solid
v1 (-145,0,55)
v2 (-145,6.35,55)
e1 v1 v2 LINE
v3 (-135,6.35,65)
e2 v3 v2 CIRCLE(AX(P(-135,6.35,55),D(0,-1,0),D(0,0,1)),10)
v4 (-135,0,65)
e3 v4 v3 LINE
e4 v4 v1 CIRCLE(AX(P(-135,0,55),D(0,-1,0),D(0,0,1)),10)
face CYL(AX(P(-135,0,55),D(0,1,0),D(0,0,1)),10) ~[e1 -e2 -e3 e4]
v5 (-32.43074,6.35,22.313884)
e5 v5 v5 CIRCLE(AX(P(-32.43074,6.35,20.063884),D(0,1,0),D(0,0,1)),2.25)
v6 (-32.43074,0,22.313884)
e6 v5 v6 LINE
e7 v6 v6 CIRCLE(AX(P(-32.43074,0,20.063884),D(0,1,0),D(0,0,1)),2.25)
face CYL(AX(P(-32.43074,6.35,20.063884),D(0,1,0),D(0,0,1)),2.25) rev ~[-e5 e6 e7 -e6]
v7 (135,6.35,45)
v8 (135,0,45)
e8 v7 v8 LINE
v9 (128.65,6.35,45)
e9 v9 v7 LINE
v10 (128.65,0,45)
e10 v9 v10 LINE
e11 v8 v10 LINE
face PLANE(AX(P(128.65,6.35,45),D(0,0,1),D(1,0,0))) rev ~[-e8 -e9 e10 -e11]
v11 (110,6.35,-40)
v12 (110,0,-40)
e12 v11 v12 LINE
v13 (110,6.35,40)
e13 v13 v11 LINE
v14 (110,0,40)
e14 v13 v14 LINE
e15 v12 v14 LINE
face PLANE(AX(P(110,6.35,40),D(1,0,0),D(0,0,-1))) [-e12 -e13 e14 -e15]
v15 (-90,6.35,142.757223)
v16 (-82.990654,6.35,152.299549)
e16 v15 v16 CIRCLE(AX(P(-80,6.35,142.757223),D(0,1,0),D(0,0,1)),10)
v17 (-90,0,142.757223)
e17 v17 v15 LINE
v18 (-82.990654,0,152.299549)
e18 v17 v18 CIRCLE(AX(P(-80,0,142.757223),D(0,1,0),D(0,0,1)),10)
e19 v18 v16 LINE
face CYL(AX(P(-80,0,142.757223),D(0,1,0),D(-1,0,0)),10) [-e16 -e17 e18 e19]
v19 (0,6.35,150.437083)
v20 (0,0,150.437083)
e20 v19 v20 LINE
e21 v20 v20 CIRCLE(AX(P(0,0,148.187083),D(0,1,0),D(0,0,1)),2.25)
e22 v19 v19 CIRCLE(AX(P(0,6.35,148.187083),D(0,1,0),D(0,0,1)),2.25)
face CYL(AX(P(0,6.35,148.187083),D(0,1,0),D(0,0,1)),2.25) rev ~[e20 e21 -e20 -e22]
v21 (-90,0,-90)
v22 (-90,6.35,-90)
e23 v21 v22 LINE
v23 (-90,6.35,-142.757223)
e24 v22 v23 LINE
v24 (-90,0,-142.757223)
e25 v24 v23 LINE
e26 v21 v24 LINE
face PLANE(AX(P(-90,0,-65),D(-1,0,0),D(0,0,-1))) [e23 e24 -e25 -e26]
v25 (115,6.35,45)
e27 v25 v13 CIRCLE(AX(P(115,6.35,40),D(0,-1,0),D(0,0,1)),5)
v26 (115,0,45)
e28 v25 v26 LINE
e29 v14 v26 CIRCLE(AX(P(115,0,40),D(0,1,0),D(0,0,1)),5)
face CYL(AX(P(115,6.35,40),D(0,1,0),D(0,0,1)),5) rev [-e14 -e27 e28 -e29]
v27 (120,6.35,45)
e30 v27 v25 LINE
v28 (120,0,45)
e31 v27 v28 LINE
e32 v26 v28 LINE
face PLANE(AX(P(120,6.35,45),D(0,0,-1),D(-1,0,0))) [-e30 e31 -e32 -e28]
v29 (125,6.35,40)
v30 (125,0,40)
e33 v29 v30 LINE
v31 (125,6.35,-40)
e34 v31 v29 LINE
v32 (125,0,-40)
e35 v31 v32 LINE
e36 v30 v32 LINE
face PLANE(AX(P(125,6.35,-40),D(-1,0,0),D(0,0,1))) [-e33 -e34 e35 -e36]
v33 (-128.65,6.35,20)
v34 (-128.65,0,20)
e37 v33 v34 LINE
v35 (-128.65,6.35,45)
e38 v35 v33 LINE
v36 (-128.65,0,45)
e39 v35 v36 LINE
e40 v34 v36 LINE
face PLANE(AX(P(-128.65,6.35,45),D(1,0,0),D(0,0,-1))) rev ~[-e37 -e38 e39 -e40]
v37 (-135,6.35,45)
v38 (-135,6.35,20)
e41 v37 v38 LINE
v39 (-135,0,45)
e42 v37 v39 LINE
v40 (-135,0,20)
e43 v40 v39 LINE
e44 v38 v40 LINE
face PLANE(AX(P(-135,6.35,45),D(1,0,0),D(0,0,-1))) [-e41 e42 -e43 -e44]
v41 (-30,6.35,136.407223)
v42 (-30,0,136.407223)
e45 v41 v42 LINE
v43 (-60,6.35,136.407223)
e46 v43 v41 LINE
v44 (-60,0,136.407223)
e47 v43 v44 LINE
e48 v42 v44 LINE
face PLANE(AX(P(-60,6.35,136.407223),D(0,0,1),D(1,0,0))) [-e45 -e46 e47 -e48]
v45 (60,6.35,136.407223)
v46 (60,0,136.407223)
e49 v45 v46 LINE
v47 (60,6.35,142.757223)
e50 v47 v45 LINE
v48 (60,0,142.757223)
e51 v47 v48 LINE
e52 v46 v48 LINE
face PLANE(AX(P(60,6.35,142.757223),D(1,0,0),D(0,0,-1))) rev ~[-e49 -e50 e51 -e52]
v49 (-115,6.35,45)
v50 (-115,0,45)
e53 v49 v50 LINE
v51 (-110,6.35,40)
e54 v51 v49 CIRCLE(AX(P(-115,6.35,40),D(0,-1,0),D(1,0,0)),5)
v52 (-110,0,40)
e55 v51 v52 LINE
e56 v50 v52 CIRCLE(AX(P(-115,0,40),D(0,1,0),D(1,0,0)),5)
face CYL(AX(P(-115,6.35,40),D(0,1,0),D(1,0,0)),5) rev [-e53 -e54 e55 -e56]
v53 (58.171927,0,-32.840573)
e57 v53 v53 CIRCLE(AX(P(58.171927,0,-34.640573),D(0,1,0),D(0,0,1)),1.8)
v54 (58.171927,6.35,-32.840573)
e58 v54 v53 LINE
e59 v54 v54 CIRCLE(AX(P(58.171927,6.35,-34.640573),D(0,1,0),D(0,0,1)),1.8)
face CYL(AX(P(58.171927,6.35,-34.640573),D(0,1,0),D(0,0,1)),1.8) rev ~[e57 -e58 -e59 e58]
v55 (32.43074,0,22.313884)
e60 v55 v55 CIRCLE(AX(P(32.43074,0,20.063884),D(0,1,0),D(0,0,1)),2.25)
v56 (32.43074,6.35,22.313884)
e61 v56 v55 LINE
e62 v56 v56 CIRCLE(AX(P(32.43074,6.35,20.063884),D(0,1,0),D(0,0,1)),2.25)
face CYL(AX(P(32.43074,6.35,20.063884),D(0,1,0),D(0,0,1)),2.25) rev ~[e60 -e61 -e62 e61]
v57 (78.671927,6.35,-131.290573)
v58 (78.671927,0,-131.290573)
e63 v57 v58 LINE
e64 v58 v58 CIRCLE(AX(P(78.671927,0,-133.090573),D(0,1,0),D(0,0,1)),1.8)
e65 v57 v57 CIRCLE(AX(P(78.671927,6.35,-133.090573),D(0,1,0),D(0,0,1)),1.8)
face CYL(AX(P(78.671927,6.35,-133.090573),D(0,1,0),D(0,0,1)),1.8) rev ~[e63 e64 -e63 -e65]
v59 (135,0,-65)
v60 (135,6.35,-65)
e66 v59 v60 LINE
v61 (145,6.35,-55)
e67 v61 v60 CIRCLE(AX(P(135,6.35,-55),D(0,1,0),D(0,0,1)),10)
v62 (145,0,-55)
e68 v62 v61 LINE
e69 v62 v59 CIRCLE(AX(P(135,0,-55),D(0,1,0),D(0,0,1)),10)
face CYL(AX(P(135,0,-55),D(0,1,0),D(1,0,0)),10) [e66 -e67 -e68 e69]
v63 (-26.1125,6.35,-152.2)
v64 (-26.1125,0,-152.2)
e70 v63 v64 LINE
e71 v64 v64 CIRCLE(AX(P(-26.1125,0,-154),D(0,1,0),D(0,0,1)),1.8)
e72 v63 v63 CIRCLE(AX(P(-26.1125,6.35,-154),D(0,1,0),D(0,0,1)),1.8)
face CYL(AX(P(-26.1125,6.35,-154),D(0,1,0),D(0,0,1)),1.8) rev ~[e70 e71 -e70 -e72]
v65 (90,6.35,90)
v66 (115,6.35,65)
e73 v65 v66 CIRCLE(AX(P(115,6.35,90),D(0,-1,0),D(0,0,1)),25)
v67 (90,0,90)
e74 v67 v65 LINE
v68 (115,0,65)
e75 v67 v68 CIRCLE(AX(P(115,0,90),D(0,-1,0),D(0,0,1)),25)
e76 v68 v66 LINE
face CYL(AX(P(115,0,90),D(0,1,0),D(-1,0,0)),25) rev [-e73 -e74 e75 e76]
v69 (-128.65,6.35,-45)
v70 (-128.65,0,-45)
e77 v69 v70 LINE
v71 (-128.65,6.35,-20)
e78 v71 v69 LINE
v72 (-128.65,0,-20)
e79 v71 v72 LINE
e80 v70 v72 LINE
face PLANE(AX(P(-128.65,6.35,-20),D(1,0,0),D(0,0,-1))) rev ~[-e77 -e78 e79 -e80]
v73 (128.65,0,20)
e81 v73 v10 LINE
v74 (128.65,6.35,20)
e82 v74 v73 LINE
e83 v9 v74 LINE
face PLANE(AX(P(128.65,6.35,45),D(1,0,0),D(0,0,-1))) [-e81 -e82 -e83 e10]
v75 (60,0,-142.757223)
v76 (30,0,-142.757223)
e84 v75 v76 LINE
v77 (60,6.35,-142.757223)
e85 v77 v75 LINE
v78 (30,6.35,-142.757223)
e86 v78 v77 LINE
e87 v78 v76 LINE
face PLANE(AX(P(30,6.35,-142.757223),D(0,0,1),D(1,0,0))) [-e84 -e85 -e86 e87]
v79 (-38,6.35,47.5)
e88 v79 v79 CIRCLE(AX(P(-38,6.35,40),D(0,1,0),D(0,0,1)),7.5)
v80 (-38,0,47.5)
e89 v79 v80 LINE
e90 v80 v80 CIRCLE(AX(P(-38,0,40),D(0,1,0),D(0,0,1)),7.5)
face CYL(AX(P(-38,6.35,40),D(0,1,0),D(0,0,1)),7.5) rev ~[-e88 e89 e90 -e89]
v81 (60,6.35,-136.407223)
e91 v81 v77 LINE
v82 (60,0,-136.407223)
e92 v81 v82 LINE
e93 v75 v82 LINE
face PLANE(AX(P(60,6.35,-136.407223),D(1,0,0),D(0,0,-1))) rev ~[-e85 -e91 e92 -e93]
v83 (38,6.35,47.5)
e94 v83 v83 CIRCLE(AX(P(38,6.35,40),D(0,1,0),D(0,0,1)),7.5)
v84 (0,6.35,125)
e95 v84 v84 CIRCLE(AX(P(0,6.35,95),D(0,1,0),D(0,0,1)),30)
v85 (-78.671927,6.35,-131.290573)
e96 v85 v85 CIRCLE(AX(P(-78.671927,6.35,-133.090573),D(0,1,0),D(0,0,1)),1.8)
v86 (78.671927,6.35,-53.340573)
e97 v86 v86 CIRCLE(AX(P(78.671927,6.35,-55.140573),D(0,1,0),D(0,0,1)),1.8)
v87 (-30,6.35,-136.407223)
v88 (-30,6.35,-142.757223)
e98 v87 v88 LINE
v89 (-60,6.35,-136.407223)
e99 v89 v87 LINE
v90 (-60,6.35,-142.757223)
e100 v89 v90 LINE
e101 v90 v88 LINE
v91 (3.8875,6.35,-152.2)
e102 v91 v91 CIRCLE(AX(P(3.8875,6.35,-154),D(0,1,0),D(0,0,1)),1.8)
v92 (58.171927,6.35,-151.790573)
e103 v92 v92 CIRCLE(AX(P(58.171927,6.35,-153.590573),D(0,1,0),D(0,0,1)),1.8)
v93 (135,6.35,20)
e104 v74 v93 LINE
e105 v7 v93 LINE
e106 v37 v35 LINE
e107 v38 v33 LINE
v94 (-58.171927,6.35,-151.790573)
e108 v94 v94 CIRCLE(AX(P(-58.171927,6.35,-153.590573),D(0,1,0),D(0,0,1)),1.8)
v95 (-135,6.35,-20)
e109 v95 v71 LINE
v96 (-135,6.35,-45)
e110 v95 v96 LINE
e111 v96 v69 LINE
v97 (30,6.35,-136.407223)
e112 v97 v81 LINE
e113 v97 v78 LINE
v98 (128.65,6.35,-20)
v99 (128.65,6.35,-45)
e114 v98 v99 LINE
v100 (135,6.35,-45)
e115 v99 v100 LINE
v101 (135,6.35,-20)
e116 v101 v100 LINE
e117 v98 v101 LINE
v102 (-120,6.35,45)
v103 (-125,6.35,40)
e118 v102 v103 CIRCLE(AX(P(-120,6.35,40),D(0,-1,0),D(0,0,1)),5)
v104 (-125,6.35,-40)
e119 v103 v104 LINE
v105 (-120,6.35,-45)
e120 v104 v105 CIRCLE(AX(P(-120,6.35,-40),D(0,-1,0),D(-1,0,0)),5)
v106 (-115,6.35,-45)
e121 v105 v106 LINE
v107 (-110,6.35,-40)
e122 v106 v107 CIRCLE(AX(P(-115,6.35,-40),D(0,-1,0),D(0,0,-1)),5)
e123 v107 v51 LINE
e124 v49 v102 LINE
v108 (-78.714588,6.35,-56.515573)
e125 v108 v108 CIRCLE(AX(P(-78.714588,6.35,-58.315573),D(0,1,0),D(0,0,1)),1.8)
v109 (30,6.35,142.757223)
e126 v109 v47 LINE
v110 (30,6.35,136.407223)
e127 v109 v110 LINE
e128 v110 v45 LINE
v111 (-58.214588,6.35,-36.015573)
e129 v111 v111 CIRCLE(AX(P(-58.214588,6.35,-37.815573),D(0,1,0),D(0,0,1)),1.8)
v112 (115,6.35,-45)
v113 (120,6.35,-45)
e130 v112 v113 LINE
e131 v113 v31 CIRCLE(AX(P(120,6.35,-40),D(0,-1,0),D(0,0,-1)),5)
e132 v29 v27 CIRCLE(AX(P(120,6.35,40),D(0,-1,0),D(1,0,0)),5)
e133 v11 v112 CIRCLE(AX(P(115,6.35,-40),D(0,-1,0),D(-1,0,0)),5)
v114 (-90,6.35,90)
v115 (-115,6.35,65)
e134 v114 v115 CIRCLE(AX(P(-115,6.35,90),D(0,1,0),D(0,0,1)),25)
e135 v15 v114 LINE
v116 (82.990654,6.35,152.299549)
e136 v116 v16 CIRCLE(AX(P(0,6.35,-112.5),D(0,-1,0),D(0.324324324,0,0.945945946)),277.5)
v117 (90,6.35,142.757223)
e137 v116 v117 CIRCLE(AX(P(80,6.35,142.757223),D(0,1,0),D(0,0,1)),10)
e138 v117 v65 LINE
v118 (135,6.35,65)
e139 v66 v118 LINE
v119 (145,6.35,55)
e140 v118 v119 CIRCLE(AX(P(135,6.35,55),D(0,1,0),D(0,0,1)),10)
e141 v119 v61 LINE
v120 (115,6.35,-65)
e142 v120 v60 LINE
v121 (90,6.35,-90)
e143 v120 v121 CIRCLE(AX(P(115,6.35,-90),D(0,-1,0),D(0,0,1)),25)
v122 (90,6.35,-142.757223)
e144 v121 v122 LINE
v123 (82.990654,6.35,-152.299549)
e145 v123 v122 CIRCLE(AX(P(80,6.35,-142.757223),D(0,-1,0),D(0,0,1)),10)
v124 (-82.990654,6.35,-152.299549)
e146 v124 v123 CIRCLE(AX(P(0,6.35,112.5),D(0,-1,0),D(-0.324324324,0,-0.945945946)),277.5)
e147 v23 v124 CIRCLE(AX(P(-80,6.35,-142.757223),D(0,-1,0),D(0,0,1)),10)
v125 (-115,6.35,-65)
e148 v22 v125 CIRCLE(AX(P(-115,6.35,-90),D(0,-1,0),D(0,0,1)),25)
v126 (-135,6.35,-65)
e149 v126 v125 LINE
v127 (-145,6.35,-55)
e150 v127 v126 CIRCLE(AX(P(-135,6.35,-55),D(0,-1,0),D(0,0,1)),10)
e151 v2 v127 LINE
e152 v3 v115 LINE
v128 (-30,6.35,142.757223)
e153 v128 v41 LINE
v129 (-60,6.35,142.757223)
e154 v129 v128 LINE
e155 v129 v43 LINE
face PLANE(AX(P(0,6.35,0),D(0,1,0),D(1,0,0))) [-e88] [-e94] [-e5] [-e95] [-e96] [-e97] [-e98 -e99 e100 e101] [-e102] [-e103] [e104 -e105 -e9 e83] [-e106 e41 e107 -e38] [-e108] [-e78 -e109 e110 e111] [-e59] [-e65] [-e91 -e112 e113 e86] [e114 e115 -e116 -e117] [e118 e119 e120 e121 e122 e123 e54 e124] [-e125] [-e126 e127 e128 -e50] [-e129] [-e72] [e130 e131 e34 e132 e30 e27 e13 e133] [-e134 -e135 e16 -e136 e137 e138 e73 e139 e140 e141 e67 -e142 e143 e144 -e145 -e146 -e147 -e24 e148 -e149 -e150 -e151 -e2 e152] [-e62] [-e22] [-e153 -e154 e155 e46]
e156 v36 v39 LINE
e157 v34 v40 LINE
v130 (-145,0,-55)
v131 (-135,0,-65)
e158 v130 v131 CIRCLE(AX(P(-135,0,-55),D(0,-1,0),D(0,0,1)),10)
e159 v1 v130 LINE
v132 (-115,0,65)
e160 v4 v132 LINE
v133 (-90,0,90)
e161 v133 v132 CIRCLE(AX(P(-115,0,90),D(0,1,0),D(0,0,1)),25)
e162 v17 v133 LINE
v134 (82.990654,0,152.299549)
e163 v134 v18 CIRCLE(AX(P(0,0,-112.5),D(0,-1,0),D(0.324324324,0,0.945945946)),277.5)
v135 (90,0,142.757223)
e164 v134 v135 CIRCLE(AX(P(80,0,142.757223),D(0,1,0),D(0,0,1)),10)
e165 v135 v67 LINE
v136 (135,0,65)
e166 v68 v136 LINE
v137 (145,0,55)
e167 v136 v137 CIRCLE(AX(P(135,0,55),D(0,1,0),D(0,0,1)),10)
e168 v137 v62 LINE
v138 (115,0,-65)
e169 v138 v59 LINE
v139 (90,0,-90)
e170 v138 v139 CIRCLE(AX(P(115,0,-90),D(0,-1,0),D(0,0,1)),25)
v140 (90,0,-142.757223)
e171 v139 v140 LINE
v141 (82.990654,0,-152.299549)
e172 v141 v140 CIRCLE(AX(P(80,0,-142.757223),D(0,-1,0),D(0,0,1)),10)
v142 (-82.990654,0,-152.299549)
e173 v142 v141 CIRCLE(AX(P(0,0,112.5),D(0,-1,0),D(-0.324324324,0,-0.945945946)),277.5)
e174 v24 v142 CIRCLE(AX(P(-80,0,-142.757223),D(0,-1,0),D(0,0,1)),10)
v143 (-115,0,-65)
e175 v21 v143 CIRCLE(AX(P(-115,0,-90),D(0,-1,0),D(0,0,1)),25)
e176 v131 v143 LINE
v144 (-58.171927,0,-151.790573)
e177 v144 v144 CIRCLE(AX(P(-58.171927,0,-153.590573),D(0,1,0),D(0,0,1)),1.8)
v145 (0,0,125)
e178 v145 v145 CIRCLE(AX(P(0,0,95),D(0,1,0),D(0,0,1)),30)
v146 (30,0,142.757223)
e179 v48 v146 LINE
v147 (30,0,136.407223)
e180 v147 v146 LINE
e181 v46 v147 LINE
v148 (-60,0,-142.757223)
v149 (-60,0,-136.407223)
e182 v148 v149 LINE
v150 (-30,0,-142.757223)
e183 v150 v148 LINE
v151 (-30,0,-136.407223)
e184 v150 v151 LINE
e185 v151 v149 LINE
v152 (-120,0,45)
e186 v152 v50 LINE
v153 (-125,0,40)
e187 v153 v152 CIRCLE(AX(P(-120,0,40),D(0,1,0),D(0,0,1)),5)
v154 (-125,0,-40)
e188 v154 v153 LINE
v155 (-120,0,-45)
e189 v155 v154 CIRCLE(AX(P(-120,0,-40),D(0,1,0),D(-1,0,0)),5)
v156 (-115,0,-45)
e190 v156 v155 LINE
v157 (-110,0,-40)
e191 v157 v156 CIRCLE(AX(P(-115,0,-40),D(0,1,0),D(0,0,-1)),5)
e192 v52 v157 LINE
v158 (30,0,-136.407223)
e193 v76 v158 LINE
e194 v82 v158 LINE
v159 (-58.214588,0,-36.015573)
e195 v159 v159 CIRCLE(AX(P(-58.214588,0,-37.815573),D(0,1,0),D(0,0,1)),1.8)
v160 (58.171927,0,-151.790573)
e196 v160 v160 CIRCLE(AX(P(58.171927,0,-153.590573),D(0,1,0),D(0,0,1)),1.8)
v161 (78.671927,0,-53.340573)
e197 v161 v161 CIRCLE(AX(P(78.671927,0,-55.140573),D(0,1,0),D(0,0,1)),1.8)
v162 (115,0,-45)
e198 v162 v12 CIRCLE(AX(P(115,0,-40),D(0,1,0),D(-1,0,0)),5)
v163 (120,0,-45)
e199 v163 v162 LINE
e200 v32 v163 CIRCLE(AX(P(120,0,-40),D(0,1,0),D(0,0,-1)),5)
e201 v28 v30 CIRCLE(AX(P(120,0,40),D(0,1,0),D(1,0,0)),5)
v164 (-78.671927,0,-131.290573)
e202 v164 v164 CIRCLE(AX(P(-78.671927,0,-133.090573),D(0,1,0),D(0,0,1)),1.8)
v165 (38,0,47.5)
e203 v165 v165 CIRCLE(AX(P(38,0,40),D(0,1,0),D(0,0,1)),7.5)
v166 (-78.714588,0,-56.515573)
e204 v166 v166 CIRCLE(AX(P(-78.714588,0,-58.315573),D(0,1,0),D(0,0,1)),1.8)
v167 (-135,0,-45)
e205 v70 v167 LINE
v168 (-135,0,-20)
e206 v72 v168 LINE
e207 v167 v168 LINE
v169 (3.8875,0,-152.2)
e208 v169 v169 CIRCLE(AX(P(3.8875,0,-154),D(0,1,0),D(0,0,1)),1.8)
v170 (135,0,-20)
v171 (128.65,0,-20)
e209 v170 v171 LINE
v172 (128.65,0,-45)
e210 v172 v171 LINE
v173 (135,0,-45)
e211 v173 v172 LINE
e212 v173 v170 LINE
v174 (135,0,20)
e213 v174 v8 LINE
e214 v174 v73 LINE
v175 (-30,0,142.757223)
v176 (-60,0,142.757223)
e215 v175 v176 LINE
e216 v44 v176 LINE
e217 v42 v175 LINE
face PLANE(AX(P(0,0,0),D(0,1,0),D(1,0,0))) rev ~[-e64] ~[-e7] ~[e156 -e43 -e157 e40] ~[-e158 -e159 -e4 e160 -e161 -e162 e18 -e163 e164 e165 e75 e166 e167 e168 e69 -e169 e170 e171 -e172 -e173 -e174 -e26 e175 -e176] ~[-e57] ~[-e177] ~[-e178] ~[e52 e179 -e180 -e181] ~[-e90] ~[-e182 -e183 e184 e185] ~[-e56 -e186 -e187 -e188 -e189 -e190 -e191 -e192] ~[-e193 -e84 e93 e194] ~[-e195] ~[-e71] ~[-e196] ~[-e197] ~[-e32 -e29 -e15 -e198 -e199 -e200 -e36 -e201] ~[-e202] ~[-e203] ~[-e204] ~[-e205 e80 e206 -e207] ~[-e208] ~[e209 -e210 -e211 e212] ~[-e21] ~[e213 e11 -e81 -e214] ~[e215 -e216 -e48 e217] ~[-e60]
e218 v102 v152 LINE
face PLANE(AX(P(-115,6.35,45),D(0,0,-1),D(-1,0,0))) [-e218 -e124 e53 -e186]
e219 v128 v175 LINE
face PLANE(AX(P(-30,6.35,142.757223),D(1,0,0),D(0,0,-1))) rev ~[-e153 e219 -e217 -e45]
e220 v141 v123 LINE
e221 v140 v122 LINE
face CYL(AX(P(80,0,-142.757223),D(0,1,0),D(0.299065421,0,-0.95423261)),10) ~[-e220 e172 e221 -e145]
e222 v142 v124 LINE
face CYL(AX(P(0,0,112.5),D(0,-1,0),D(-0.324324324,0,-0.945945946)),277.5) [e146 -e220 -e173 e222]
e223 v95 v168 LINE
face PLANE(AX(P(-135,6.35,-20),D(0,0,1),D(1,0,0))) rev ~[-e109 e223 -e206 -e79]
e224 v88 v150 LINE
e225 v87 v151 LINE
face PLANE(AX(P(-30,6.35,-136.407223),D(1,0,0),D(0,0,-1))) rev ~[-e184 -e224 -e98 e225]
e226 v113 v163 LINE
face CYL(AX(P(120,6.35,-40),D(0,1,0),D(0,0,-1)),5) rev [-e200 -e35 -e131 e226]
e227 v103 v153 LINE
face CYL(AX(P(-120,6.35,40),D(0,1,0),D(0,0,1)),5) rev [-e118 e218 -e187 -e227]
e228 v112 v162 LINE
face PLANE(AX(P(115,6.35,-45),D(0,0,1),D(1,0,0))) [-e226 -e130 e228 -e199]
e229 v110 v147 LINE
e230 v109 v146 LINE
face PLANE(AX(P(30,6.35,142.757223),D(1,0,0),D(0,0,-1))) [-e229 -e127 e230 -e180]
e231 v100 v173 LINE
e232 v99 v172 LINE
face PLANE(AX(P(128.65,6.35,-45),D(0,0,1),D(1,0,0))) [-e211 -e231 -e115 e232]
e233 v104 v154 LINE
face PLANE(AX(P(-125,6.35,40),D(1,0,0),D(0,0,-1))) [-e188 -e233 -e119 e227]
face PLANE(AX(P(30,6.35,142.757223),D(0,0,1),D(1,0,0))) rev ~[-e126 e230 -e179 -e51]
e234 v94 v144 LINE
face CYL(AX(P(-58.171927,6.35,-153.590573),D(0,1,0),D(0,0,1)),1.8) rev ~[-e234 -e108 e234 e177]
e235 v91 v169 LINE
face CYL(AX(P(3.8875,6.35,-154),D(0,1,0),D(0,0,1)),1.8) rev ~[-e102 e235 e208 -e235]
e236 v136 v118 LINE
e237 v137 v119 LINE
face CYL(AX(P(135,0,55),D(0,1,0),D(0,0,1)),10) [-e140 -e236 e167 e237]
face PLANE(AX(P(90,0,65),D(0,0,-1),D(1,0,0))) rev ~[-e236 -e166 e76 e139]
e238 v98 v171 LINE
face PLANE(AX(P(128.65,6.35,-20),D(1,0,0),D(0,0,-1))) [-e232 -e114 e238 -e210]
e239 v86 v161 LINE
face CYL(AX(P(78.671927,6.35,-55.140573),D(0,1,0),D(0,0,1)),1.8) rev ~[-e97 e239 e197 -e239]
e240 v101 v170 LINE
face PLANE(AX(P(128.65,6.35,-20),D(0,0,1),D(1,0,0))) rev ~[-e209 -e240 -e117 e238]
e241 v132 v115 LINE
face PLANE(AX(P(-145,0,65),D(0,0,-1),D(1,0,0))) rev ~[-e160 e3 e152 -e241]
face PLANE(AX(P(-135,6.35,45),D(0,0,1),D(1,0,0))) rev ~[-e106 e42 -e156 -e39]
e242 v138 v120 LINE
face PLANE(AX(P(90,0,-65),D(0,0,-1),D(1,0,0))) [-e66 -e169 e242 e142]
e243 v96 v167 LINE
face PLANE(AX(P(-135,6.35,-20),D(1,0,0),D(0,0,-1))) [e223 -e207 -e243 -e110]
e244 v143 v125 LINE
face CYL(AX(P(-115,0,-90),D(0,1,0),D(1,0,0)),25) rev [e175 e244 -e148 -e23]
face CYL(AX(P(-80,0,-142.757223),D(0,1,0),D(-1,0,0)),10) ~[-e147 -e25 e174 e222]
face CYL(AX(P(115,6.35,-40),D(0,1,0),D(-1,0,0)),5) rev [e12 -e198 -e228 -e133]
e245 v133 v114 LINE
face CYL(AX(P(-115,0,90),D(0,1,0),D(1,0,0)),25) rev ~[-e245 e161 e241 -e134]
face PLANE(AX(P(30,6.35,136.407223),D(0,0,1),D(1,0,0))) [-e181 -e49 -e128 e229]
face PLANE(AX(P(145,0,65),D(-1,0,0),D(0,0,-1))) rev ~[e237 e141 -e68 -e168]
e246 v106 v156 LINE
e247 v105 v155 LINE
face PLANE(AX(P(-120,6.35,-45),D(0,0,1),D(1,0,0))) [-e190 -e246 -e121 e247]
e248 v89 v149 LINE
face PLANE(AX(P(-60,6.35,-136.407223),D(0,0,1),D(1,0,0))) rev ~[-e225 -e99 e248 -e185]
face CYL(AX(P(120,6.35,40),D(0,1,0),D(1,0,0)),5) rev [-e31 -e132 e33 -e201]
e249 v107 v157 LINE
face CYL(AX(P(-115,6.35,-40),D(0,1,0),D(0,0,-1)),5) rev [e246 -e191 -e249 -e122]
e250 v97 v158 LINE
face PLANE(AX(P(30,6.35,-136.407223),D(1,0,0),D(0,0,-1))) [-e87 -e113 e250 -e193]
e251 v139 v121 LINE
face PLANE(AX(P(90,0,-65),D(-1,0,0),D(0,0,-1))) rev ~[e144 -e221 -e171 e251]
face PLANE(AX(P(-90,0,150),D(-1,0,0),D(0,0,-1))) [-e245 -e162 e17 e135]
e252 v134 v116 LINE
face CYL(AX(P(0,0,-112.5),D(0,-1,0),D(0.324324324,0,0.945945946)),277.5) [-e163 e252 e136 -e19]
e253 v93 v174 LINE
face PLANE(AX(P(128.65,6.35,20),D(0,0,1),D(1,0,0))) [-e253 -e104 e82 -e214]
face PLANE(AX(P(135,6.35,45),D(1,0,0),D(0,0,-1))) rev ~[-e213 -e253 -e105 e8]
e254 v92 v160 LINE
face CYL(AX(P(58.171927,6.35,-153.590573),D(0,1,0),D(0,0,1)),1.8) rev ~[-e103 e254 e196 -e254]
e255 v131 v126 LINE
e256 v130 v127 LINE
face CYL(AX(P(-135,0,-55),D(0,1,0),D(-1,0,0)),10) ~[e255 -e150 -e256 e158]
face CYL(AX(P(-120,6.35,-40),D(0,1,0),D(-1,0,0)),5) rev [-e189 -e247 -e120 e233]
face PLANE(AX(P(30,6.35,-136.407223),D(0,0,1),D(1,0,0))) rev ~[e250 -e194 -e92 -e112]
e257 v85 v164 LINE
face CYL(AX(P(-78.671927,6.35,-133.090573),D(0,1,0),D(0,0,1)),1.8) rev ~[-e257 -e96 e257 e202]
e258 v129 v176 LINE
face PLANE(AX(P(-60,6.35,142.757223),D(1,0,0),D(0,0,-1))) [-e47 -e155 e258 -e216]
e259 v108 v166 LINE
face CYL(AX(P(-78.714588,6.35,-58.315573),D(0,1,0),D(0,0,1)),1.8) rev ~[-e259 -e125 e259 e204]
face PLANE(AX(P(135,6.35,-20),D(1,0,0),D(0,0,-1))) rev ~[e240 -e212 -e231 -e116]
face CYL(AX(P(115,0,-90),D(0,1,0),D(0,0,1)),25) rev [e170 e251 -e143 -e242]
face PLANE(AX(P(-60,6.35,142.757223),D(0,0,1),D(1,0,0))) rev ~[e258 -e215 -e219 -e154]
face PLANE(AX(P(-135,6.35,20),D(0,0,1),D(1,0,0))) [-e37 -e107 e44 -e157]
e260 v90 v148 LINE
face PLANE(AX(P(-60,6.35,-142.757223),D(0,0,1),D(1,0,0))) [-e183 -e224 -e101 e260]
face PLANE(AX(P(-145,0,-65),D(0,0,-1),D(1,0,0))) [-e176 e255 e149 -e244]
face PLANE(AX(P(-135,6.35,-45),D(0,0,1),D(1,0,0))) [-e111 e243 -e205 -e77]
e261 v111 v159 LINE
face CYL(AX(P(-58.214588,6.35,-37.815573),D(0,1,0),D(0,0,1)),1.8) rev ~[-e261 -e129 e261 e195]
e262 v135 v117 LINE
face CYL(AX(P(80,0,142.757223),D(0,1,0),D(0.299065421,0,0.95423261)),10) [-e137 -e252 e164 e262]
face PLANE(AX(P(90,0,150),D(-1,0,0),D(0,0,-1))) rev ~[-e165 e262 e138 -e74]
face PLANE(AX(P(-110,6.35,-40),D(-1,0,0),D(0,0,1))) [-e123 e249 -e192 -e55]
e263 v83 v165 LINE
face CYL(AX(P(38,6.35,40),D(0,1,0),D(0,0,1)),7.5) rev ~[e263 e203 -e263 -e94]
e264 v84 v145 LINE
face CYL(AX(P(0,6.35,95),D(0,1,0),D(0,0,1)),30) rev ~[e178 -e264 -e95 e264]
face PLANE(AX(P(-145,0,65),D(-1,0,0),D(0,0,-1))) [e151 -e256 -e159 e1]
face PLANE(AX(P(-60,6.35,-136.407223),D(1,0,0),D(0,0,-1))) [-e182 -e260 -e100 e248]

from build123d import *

# Parameters (mm, degrees)
ESQUISSE1_W             = 180
ESQUISSE1_H             = 300
ESQUISSE1_W_2           = 55
ESQUISSE1_H_2           = 130
BOSS_EXTRU_1_DEPTH      = 6.35
CONG_1_R                = 25
CONG_2_R                = 10
ENL_V_MAT_EXTRU_1_REACH = 221.751
ESQUISSE2_R             = 30
ENL_V_MAT_EXTRU_2_REACH = 221.751
ESQUISSE3_R             = 2.25
ENL_V_MAT_EXTRU_3_REACH = 221.751
ESQUISSE5_W             = 30
ESQUISSE5_H             = 6.35
ESQUISSE5_W_2           = 6.35
ESQUISSE5_H_2           = 25
ENL_V_MAT_EXTRU_4_REACH = 221.751
ESQUISSE6_R             = 7.5
ENL_V_MAT_EXTRU_5_REACH = 221.751
ENL_V_MAT_EXTRU_6_REACH = 221.751
ESQUISSE8_R             = 1.8


with BuildPart() as part:
    # Esquisse1 → Boss.-Extru.1 (new body)
    with BuildSketch(Plane(origin=(0, 0, 0), x_dir=(1, 0, 0), z_dir=(0, 1, 0))):
        Rectangle(ESQUISSE1_W, ESQUISSE1_H)
        with Locations((-117.5, 0)):
            Rectangle(ESQUISSE1_W_2, ESQUISSE1_H_2)
        with Locations((117.5, 0)):
            Rectangle(ESQUISSE1_W_2, ESQUISSE1_H_2)
        with BuildLine():
            Line((-90, -150), (90, -150))
            ThreePointArc((90, -150), (0, -165), (-90, -150))
        make_face()
        with BuildLine():
            ThreePointArc((-90, 150), (0, 165), (90, 150))
            Line((90, 150), (-90, 150))
        make_face()
    extrude(amount=BOSS_EXTRU_1_DEPTH)

    # Congé1
    cong_1_edges = [part.edges().sort_by_distance(p)[0] for p in [
        (-90, 3.175, 65),
        (-90, 3.175, -65),
        (90, 3.175, -65),
        (90, 3.175, 65),
    ]]
    fillet(cong_1_edges, radius=CONG_1_R)

    # Congé2
    cong_2_edges = [part.edges().sort_by_distance(p)[0] for p in [
        (-145, 3.175, 65),
        (-145, 3.175, -65),
        (-90, 3.175, -150),
        (90, 3.175, -150),
        (145, 3.175, -65),
        (145, 3.175, 65),
        (90, 3.175, 150),
        (-90, 3.175, 150),
    ]]
    fillet(cong_2_edges, radius=CONG_2_R)

    # Esquisse2 → Enlèv. mat.-Extru.1 (cut, up to next)
    with BuildSketch(Plane(origin=(0, 6.35, 0), x_dir=(1, 0, 0), z_dir=(0, 1, 0)), mode=Mode.PRIVATE) as enl_v_mat_extru_1_sk1:
        with Locations(Location((0, -95, 0), (0, 0, 270))):
            Circle(ESQUISSE2_R)
    enl_v_mat_extru_1_tool1 = extrude(enl_v_mat_extru_1_sk1.sketch, amount=-ENL_V_MAT_EXTRU_1_REACH, mode=Mode.PRIVATE) & part.part
    add(enl_v_mat_extru_1_tool1.solids().sort_by_distance((0, 6.35, 95))[0], mode=Mode.SUBTRACT)

    # Esquisse3 → Enlèv. mat.-Extru.2 (cut, up to next)
    with BuildSketch(Plane(origin=(0, 6.35, 0), x_dir=(1, 0, 0), z_dir=(0, 1, 0)), mode=Mode.PRIVATE) as enl_v_mat_extru_2_sk1:
        with Locations(Location((-32.430740144, -20.063884254, 0), (0, 0, 270))):
            Circle(ESQUISSE3_R)
    enl_v_mat_extru_2_tool1 = extrude(enl_v_mat_extru_2_sk1.sketch, amount=-ENL_V_MAT_EXTRU_2_REACH, mode=Mode.PRIVATE) & part.part
    # Esquisse3 → Enlèv. mat.-Extru.2 (cut, up to next)
    with BuildSketch(Plane(origin=(0, 6.35, 0), x_dir=(1, 0, 0), z_dir=(0, 1, 0)), mode=Mode.PRIVATE) as enl_v_mat_extru_2_sk2:
        with Locations(Location((32.430740144, -20.063884254, 0), (0, 0, 270))):
            Circle(ESQUISSE3_R)
    enl_v_mat_extru_2_tool2 = extrude(enl_v_mat_extru_2_sk2.sketch, amount=-ENL_V_MAT_EXTRU_2_REACH, mode=Mode.PRIVATE) & part.part
    # Esquisse3 → Enlèv. mat.-Extru.2 (cut, up to next)
    with BuildSketch(Plane(origin=(0, 6.35, 0), x_dir=(1, 0, 0), z_dir=(0, 1, 0)), mode=Mode.PRIVATE) as enl_v_mat_extru_2_sk3:
        with Locations(Location((0, -148.187083331, 0), (0, 0, 270))):
            Circle(ESQUISSE3_R)
    enl_v_mat_extru_2_tool3 = extrude(enl_v_mat_extru_2_sk3.sketch, amount=-ENL_V_MAT_EXTRU_2_REACH, mode=Mode.PRIVATE) & part.part
    add(enl_v_mat_extru_2_tool1.solids().sort_by_distance((-32.43074, 6.35, 20.063884))[0], mode=Mode.SUBTRACT)
    add(enl_v_mat_extru_2_tool2.solids().sort_by_distance((32.43074, 6.35, 20.063884))[0], mode=Mode.SUBTRACT)
    add(enl_v_mat_extru_2_tool3.solids().sort_by_distance((0, 6.35, 148.187083))[0], mode=Mode.SUBTRACT)

    # Esquisse5 → Enlèv. mat.-Extru.3 (cut, up to next)
    with BuildSketch(Plane(origin=(0, 6.35, 0), x_dir=(1, 0, 0), z_dir=(0, 1, 0)), mode=Mode.PRIVATE) as enl_v_mat_extru_3_sk1:
        with Locations((-45, 139.582223208)):
            Rectangle(ESQUISSE5_W, ESQUISSE5_H)
    enl_v_mat_extru_3_tool1 = extrude(enl_v_mat_extru_3_sk1.sketch, amount=-ENL_V_MAT_EXTRU_3_REACH, mode=Mode.PRIVATE) & part.part
    # Esquisse5 → Enlèv. mat.-Extru.3 (cut, up to next)
    with BuildSketch(Plane(origin=(0, 6.35, 0), x_dir=(1, 0, 0), z_dir=(0, 1, 0)), mode=Mode.PRIVATE) as enl_v_mat_extru_3_sk2:
        with Locations((45, 139.582223208)):
            Rectangle(ESQUISSE5_W, ESQUISSE5_H)
    enl_v_mat_extru_3_tool2 = extrude(enl_v_mat_extru_3_sk2.sketch, amount=-ENL_V_MAT_EXTRU_3_REACH, mode=Mode.PRIVATE) & part.part
    # Esquisse5 → Enlèv. mat.-Extru.3 (cut, up to next)
    with BuildSketch(Plane(origin=(0, 6.35, 0), x_dir=(1, 0, 0), z_dir=(0, 1, 0)), mode=Mode.PRIVATE) as enl_v_mat_extru_3_sk3:
        with Locations((-45, -139.582223208)):
            Rectangle(ESQUISSE5_W, ESQUISSE5_H)
    enl_v_mat_extru_3_tool3 = extrude(enl_v_mat_extru_3_sk3.sketch, amount=-ENL_V_MAT_EXTRU_3_REACH, mode=Mode.PRIVATE) & part.part
    # Esquisse5 → Enlèv. mat.-Extru.3 (cut, up to next)
    with BuildSketch(Plane(origin=(0, 6.35, 0), x_dir=(1, 0, 0), z_dir=(0, 1, 0)), mode=Mode.PRIVATE) as enl_v_mat_extru_3_sk4:
        with Locations((45, -139.582223208)):
            Rectangle(ESQUISSE5_W, ESQUISSE5_H)
    enl_v_mat_extru_3_tool4 = extrude(enl_v_mat_extru_3_sk4.sketch, amount=-ENL_V_MAT_EXTRU_3_REACH, mode=Mode.PRIVATE) & part.part
    # Esquisse5 → Enlèv. mat.-Extru.3 (cut, up to next)
    with BuildSketch(Plane(origin=(0, 6.35, 0), x_dir=(1, 0, 0), z_dir=(0, 1, 0)), mode=Mode.PRIVATE) as enl_v_mat_extru_3_sk5:
        with Locations((131.825, -32.5)):
            Rectangle(ESQUISSE5_W_2, ESQUISSE5_H_2)
    enl_v_mat_extru_3_tool5 = extrude(enl_v_mat_extru_3_sk5.sketch, amount=-ENL_V_MAT_EXTRU_3_REACH, mode=Mode.PRIVATE) & part.part
    # Esquisse5 → Enlèv. mat.-Extru.3 (cut, up to next)
    with BuildSketch(Plane(origin=(0, 6.35, 0), x_dir=(1, 0, 0), z_dir=(0, 1, 0)), mode=Mode.PRIVATE) as enl_v_mat_extru_3_sk6:
        with Locations((131.825, 32.5)):
            Rectangle(ESQUISSE5_W_2, ESQUISSE5_H_2)
    enl_v_mat_extru_3_tool6 = extrude(enl_v_mat_extru_3_sk6.sketch, amount=-ENL_V_MAT_EXTRU_3_REACH, mode=Mode.PRIVATE) & part.part
    # Esquisse5 → Enlèv. mat.-Extru.3 (cut, up to next)
    with BuildSketch(Plane(origin=(0, 6.35, 0), x_dir=(1, 0, 0), z_dir=(0, 1, 0)), mode=Mode.PRIVATE) as enl_v_mat_extru_3_sk7:
        with Locations((-131.825, 32.5)):
            Rectangle(ESQUISSE5_W_2, ESQUISSE5_H_2)
    enl_v_mat_extru_3_tool7 = extrude(enl_v_mat_extru_3_sk7.sketch, amount=-ENL_V_MAT_EXTRU_3_REACH, mode=Mode.PRIVATE) & part.part
    # Esquisse5 → Enlèv. mat.-Extru.3 (cut, up to next)
    with BuildSketch(Plane(origin=(0, 6.35, 0), x_dir=(1, 0, 0), z_dir=(0, 1, 0)), mode=Mode.PRIVATE) as enl_v_mat_extru_3_sk8:
        with Locations((-131.825, -32.5)):
            Rectangle(ESQUISSE5_W_2, ESQUISSE5_H_2)
    enl_v_mat_extru_3_tool8 = extrude(enl_v_mat_extru_3_sk8.sketch, amount=-ENL_V_MAT_EXTRU_3_REACH, mode=Mode.PRIVATE) & part.part
    add(enl_v_mat_extru_3_tool1.solids().sort_by_distance((-45, 6.35, -139.582223))[0], mode=Mode.SUBTRACT)
    add(enl_v_mat_extru_3_tool2.solids().sort_by_distance((45, 6.35, -139.582223))[0], mode=Mode.SUBTRACT)
    add(enl_v_mat_extru_3_tool3.solids().sort_by_distance((-45, 6.35, 139.582223))[0], mode=Mode.SUBTRACT)
    add(enl_v_mat_extru_3_tool4.solids().sort_by_distance((45, 6.35, 139.582223))[0], mode=Mode.SUBTRACT)
    add(enl_v_mat_extru_3_tool5.solids().sort_by_distance((131.825, 6.35, 32.5))[0], mode=Mode.SUBTRACT)
    add(enl_v_mat_extru_3_tool6.solids().sort_by_distance((131.825, 6.35, -32.5))[0], mode=Mode.SUBTRACT)
    add(enl_v_mat_extru_3_tool7.solids().sort_by_distance((-131.825, 6.35, -32.5))[0], mode=Mode.SUBTRACT)
    add(enl_v_mat_extru_3_tool8.solids().sort_by_distance((-131.825, 6.35, 32.5))[0], mode=Mode.SUBTRACT)

    # Esquisse6 → Enlèv. mat.-Extru.4 (cut, up to next)
    with BuildSketch(Plane(origin=(0, 6.35, 0), x_dir=(1, 0, 0), z_dir=(0, 1, 0)), mode=Mode.PRIVATE) as enl_v_mat_extru_4_sk1:
        with Locations(Location((38, -40, 0), (0, 0, 270))):
            Circle(ESQUISSE6_R)
    enl_v_mat_extru_4_tool1 = extrude(enl_v_mat_extru_4_sk1.sketch, amount=-ENL_V_MAT_EXTRU_4_REACH, mode=Mode.PRIVATE) & part.part
    # Esquisse6 → Enlèv. mat.-Extru.4 (cut, up to next)
    with BuildSketch(Plane(origin=(0, 6.35, 0), x_dir=(1, 0, 0), z_dir=(0, 1, 0)), mode=Mode.PRIVATE) as enl_v_mat_extru_4_sk2:
        with Locations(Location((-38, -40, 0), (0, 0, 270))):
            Circle(ESQUISSE6_R)
    enl_v_mat_extru_4_tool2 = extrude(enl_v_mat_extru_4_sk2.sketch, amount=-ENL_V_MAT_EXTRU_4_REACH, mode=Mode.PRIVATE) & part.part
    add(enl_v_mat_extru_4_tool1.solids().sort_by_distance((38, 6.35, 40))[0], mode=Mode.SUBTRACT)
    add(enl_v_mat_extru_4_tool2.solids().sort_by_distance((-38, 6.35, 40))[0], mode=Mode.SUBTRACT)

    # Esquisse7 → Enlèv. mat.-Extru.5 (cut, up to next)
    with BuildSketch(Plane(origin=(0, 6.35, 0), x_dir=(1, 0, 0), z_dir=(0, 1, 0)), mode=Mode.PRIVATE) as enl_v_mat_extru_5_sk1:
        with BuildLine():
            Line((-120, 45), (-115, 45))
            ThreePointArc((-115, 45), (-111.464466094, 43.535533906), (-110, 40))
            Line((-110, 40), (-110, -40))
            ThreePointArc((-110, -40), (-111.464466094, -43.535533906), (-115, -45))
            Line((-115, -45), (-120, -45))
            ThreePointArc((-120, -45), (-123.535533906, -43.535533906), (-125, -40))
            Line((-125, -40), (-125, 40))
            ThreePointArc((-125, 40), (-123.535533906, 43.535533906), (-120, 45))
        make_face()
    enl_v_mat_extru_5_tool1 = extrude(enl_v_mat_extru_5_sk1.sketch, amount=-ENL_V_MAT_EXTRU_5_REACH, mode=Mode.PRIVATE) & part.part
    # Esquisse7 → Enlèv. mat.-Extru.5 (cut, up to next)
    with BuildSketch(Plane(origin=(0, 6.35, 0), x_dir=(1, 0, 0), z_dir=(0, 1, 0)), mode=Mode.PRIVATE) as enl_v_mat_extru_5_sk2:
        with BuildLine():
            Line((120, -45), (115, -45))
            ThreePointArc((115, -45), (111.464466094, -43.535533906), (110, -40))
            Line((110, -40), (110, 40))
            ThreePointArc((110, 40), (111.464466094, 43.535533906), (115, 45))
            Line((115, 45), (120, 45))
            ThreePointArc((120, 45), (123.535533906, 43.535533906), (125, 40))
            Line((125, 40), (125, -40))
            ThreePointArc((125, -40), (123.535533906, -43.535533906), (120, -45))
        make_face()
    enl_v_mat_extru_5_tool2 = extrude(enl_v_mat_extru_5_sk2.sketch, amount=-ENL_V_MAT_EXTRU_5_REACH, mode=Mode.PRIVATE) & part.part
    add(enl_v_mat_extru_5_tool1.solids().sort_by_distance((-117.5, 6.35, 0))[0], mode=Mode.SUBTRACT)
    add(enl_v_mat_extru_5_tool2.solids().sort_by_distance((117.5, 6.35, 0))[0], mode=Mode.SUBTRACT)

    # Esquisse8 → Enlèv. mat.-Extru.6 (cut, up to next)
    with BuildSketch(Plane(origin=(0, 6.35, 0), x_dir=(1, 0, 0), z_dir=(0, 1, 0)), mode=Mode.PRIVATE) as enl_v_mat_extru_6_sk1:
        with Locations(Location((-78.714587663, 58.315573098, 0), (0, 0, 270))):
            Circle(ESQUISSE8_R)
    enl_v_mat_extru_6_tool1 = extrude(enl_v_mat_extru_6_sk1.sketch, amount=-ENL_V_MAT_EXTRU_6_REACH, mode=Mode.PRIVATE) & part.part
    # Esquisse8 → Enlèv. mat.-Extru.6 (cut, up to next)
    with BuildSketch(Plane(origin=(0, 6.35, 0), x_dir=(1, 0, 0), z_dir=(0, 1, 0)), mode=Mode.PRIVATE) as enl_v_mat_extru_6_sk2:
        with Locations(Location((-58.214587663, 37.815573098, 0), (0, 0, 270))):
            Circle(ESQUISSE8_R)
    enl_v_mat_extru_6_tool2 = extrude(enl_v_mat_extru_6_sk2.sketch, amount=-ENL_V_MAT_EXTRU_6_REACH, mode=Mode.PRIVATE) & part.part
    # Esquisse8 → Enlèv. mat.-Extru.6 (cut, up to next)
    with BuildSketch(Plane(origin=(0, 6.35, 0), x_dir=(1, 0, 0), z_dir=(0, 1, 0)), mode=Mode.PRIVATE) as enl_v_mat_extru_6_sk3:
        with Locations(Location((58.171926902, 34.640573098, 0), (0, 0, 270))):
            Circle(ESQUISSE8_R)
    enl_v_mat_extru_6_tool3 = extrude(enl_v_mat_extru_6_sk3.sketch, amount=-ENL_V_MAT_EXTRU_6_REACH, mode=Mode.PRIVATE) & part.part
    # Esquisse8 → Enlèv. mat.-Extru.6 (cut, up to next)
    with BuildSketch(Plane(origin=(0, 6.35, 0), x_dir=(1, 0, 0), z_dir=(0, 1, 0)), mode=Mode.PRIVATE) as enl_v_mat_extru_6_sk4:
        with Locations(Location((78.671926902, 55.140573098, 0), (0, 0, 270))):
            Circle(ESQUISSE8_R)
    enl_v_mat_extru_6_tool4 = extrude(enl_v_mat_extru_6_sk4.sketch, amount=-ENL_V_MAT_EXTRU_6_REACH, mode=Mode.PRIVATE) & part.part
    # Esquisse8 → Enlèv. mat.-Extru.6 (cut, up to next)
    with BuildSketch(Plane(origin=(0, 6.35, 0), x_dir=(1, 0, 0), z_dir=(0, 1, 0)), mode=Mode.PRIVATE) as enl_v_mat_extru_6_sk5:
        with Locations(Location((78.671926902, 133.090573098, 0), (0, 0, 270))):
            Circle(ESQUISSE8_R)
    enl_v_mat_extru_6_tool5 = extrude(enl_v_mat_extru_6_sk5.sketch, amount=-ENL_V_MAT_EXTRU_6_REACH, mode=Mode.PRIVATE) & part.part
    # Esquisse8 → Enlèv. mat.-Extru.6 (cut, up to next)
    with BuildSketch(Plane(origin=(0, 6.35, 0), x_dir=(1, 0, 0), z_dir=(0, 1, 0)), mode=Mode.PRIVATE) as enl_v_mat_extru_6_sk6:
        with Locations(Location((58.171926902, 153.590573098, 0), (0, 0, 270))):
            Circle(ESQUISSE8_R)
    enl_v_mat_extru_6_tool6 = extrude(enl_v_mat_extru_6_sk6.sketch, amount=-ENL_V_MAT_EXTRU_6_REACH, mode=Mode.PRIVATE) & part.part
    # Esquisse8 → Enlèv. mat.-Extru.6 (cut, up to next)
    with BuildSketch(Plane(origin=(0, 6.35, 0), x_dir=(1, 0, 0), z_dir=(0, 1, 0)), mode=Mode.PRIVATE) as enl_v_mat_extru_6_sk7:
        with Locations(Location((3.8875, 154, 0), (0, 0, 270))):
            Circle(ESQUISSE8_R)
    enl_v_mat_extru_6_tool7 = extrude(enl_v_mat_extru_6_sk7.sketch, amount=-ENL_V_MAT_EXTRU_6_REACH, mode=Mode.PRIVATE) & part.part
    # Esquisse8 → Enlèv. mat.-Extru.6 (cut, up to next)
    with BuildSketch(Plane(origin=(0, 6.35, 0), x_dir=(1, 0, 0), z_dir=(0, 1, 0)), mode=Mode.PRIVATE) as enl_v_mat_extru_6_sk8:
        with Locations(Location((-26.1125, 154, 0), (0, 0, 270))):
            Circle(ESQUISSE8_R)
    enl_v_mat_extru_6_tool8 = extrude(enl_v_mat_extru_6_sk8.sketch, amount=-ENL_V_MAT_EXTRU_6_REACH, mode=Mode.PRIVATE) & part.part
    # Esquisse8 → Enlèv. mat.-Extru.6 (cut, up to next)
    with BuildSketch(Plane(origin=(0, 6.35, 0), x_dir=(1, 0, 0), z_dir=(0, 1, 0)), mode=Mode.PRIVATE) as enl_v_mat_extru_6_sk9:
        with Locations(Location((-58.171926902, 153.590573098, 0), (0, 0, 270))):
            Circle(ESQUISSE8_R)
    enl_v_mat_extru_6_tool9 = extrude(enl_v_mat_extru_6_sk9.sketch, amount=-ENL_V_MAT_EXTRU_6_REACH, mode=Mode.PRIVATE) & part.part
    # Esquisse8 → Enlèv. mat.-Extru.6 (cut, up to next)
    with BuildSketch(Plane(origin=(0, 6.35, 0), x_dir=(1, 0, 0), z_dir=(0, 1, 0)), mode=Mode.PRIVATE) as enl_v_mat_extru_6_sk10:
        with Locations(Location((-78.671926902, 133.090573098, 0), (0, 0, 270))):
            Circle(ESQUISSE8_R)
    enl_v_mat_extru_6_tool10 = extrude(enl_v_mat_extru_6_sk10.sketch, amount=-ENL_V_MAT_EXTRU_6_REACH, mode=Mode.PRIVATE) & part.part
    add(enl_v_mat_extru_6_tool1.solids().sort_by_distance((-78.714588, 6.35, -58.315573))[0], mode=Mode.SUBTRACT)
    add(enl_v_mat_extru_6_tool2.solids().sort_by_distance((-58.214588, 6.35, -37.815573))[0], mode=Mode.SUBTRACT)
    add(enl_v_mat_extru_6_tool3.solids().sort_by_distance((58.171927, 6.35, -34.640573))[0], mode=Mode.SUBTRACT)
    add(enl_v_mat_extru_6_tool4.solids().sort_by_distance((78.671927, 6.35, -55.140573))[0], mode=Mode.SUBTRACT)
    add(enl_v_mat_extru_6_tool5.solids().sort_by_distance((78.671927, 6.35, -133.090573))[0], mode=Mode.SUBTRACT)
    add(enl_v_mat_extru_6_tool6.solids().sort_by_distance((58.171927, 6.35, -153.590573))[0], mode=Mode.SUBTRACT)
    add(enl_v_mat_extru_6_tool7.solids().sort_by_distance((3.8875, 6.35, -154))[0], mode=Mode.SUBTRACT)
    add(enl_v_mat_extru_6_tool8.solids().sort_by_distance((-26.1125, 6.35, -154))[0], mode=Mode.SUBTRACT)
    add(enl_v_mat_extru_6_tool9.solids().sort_by_distance((-58.171927, 6.35, -153.590573))[0], mode=Mode.SUBTRACT)
    add(enl_v_mat_extru_6_tool10.solids().sort_by_distance((-78.671927, 6.35, -133.090573))[0], mode=Mode.SUBTRACT)


solid = part.part
